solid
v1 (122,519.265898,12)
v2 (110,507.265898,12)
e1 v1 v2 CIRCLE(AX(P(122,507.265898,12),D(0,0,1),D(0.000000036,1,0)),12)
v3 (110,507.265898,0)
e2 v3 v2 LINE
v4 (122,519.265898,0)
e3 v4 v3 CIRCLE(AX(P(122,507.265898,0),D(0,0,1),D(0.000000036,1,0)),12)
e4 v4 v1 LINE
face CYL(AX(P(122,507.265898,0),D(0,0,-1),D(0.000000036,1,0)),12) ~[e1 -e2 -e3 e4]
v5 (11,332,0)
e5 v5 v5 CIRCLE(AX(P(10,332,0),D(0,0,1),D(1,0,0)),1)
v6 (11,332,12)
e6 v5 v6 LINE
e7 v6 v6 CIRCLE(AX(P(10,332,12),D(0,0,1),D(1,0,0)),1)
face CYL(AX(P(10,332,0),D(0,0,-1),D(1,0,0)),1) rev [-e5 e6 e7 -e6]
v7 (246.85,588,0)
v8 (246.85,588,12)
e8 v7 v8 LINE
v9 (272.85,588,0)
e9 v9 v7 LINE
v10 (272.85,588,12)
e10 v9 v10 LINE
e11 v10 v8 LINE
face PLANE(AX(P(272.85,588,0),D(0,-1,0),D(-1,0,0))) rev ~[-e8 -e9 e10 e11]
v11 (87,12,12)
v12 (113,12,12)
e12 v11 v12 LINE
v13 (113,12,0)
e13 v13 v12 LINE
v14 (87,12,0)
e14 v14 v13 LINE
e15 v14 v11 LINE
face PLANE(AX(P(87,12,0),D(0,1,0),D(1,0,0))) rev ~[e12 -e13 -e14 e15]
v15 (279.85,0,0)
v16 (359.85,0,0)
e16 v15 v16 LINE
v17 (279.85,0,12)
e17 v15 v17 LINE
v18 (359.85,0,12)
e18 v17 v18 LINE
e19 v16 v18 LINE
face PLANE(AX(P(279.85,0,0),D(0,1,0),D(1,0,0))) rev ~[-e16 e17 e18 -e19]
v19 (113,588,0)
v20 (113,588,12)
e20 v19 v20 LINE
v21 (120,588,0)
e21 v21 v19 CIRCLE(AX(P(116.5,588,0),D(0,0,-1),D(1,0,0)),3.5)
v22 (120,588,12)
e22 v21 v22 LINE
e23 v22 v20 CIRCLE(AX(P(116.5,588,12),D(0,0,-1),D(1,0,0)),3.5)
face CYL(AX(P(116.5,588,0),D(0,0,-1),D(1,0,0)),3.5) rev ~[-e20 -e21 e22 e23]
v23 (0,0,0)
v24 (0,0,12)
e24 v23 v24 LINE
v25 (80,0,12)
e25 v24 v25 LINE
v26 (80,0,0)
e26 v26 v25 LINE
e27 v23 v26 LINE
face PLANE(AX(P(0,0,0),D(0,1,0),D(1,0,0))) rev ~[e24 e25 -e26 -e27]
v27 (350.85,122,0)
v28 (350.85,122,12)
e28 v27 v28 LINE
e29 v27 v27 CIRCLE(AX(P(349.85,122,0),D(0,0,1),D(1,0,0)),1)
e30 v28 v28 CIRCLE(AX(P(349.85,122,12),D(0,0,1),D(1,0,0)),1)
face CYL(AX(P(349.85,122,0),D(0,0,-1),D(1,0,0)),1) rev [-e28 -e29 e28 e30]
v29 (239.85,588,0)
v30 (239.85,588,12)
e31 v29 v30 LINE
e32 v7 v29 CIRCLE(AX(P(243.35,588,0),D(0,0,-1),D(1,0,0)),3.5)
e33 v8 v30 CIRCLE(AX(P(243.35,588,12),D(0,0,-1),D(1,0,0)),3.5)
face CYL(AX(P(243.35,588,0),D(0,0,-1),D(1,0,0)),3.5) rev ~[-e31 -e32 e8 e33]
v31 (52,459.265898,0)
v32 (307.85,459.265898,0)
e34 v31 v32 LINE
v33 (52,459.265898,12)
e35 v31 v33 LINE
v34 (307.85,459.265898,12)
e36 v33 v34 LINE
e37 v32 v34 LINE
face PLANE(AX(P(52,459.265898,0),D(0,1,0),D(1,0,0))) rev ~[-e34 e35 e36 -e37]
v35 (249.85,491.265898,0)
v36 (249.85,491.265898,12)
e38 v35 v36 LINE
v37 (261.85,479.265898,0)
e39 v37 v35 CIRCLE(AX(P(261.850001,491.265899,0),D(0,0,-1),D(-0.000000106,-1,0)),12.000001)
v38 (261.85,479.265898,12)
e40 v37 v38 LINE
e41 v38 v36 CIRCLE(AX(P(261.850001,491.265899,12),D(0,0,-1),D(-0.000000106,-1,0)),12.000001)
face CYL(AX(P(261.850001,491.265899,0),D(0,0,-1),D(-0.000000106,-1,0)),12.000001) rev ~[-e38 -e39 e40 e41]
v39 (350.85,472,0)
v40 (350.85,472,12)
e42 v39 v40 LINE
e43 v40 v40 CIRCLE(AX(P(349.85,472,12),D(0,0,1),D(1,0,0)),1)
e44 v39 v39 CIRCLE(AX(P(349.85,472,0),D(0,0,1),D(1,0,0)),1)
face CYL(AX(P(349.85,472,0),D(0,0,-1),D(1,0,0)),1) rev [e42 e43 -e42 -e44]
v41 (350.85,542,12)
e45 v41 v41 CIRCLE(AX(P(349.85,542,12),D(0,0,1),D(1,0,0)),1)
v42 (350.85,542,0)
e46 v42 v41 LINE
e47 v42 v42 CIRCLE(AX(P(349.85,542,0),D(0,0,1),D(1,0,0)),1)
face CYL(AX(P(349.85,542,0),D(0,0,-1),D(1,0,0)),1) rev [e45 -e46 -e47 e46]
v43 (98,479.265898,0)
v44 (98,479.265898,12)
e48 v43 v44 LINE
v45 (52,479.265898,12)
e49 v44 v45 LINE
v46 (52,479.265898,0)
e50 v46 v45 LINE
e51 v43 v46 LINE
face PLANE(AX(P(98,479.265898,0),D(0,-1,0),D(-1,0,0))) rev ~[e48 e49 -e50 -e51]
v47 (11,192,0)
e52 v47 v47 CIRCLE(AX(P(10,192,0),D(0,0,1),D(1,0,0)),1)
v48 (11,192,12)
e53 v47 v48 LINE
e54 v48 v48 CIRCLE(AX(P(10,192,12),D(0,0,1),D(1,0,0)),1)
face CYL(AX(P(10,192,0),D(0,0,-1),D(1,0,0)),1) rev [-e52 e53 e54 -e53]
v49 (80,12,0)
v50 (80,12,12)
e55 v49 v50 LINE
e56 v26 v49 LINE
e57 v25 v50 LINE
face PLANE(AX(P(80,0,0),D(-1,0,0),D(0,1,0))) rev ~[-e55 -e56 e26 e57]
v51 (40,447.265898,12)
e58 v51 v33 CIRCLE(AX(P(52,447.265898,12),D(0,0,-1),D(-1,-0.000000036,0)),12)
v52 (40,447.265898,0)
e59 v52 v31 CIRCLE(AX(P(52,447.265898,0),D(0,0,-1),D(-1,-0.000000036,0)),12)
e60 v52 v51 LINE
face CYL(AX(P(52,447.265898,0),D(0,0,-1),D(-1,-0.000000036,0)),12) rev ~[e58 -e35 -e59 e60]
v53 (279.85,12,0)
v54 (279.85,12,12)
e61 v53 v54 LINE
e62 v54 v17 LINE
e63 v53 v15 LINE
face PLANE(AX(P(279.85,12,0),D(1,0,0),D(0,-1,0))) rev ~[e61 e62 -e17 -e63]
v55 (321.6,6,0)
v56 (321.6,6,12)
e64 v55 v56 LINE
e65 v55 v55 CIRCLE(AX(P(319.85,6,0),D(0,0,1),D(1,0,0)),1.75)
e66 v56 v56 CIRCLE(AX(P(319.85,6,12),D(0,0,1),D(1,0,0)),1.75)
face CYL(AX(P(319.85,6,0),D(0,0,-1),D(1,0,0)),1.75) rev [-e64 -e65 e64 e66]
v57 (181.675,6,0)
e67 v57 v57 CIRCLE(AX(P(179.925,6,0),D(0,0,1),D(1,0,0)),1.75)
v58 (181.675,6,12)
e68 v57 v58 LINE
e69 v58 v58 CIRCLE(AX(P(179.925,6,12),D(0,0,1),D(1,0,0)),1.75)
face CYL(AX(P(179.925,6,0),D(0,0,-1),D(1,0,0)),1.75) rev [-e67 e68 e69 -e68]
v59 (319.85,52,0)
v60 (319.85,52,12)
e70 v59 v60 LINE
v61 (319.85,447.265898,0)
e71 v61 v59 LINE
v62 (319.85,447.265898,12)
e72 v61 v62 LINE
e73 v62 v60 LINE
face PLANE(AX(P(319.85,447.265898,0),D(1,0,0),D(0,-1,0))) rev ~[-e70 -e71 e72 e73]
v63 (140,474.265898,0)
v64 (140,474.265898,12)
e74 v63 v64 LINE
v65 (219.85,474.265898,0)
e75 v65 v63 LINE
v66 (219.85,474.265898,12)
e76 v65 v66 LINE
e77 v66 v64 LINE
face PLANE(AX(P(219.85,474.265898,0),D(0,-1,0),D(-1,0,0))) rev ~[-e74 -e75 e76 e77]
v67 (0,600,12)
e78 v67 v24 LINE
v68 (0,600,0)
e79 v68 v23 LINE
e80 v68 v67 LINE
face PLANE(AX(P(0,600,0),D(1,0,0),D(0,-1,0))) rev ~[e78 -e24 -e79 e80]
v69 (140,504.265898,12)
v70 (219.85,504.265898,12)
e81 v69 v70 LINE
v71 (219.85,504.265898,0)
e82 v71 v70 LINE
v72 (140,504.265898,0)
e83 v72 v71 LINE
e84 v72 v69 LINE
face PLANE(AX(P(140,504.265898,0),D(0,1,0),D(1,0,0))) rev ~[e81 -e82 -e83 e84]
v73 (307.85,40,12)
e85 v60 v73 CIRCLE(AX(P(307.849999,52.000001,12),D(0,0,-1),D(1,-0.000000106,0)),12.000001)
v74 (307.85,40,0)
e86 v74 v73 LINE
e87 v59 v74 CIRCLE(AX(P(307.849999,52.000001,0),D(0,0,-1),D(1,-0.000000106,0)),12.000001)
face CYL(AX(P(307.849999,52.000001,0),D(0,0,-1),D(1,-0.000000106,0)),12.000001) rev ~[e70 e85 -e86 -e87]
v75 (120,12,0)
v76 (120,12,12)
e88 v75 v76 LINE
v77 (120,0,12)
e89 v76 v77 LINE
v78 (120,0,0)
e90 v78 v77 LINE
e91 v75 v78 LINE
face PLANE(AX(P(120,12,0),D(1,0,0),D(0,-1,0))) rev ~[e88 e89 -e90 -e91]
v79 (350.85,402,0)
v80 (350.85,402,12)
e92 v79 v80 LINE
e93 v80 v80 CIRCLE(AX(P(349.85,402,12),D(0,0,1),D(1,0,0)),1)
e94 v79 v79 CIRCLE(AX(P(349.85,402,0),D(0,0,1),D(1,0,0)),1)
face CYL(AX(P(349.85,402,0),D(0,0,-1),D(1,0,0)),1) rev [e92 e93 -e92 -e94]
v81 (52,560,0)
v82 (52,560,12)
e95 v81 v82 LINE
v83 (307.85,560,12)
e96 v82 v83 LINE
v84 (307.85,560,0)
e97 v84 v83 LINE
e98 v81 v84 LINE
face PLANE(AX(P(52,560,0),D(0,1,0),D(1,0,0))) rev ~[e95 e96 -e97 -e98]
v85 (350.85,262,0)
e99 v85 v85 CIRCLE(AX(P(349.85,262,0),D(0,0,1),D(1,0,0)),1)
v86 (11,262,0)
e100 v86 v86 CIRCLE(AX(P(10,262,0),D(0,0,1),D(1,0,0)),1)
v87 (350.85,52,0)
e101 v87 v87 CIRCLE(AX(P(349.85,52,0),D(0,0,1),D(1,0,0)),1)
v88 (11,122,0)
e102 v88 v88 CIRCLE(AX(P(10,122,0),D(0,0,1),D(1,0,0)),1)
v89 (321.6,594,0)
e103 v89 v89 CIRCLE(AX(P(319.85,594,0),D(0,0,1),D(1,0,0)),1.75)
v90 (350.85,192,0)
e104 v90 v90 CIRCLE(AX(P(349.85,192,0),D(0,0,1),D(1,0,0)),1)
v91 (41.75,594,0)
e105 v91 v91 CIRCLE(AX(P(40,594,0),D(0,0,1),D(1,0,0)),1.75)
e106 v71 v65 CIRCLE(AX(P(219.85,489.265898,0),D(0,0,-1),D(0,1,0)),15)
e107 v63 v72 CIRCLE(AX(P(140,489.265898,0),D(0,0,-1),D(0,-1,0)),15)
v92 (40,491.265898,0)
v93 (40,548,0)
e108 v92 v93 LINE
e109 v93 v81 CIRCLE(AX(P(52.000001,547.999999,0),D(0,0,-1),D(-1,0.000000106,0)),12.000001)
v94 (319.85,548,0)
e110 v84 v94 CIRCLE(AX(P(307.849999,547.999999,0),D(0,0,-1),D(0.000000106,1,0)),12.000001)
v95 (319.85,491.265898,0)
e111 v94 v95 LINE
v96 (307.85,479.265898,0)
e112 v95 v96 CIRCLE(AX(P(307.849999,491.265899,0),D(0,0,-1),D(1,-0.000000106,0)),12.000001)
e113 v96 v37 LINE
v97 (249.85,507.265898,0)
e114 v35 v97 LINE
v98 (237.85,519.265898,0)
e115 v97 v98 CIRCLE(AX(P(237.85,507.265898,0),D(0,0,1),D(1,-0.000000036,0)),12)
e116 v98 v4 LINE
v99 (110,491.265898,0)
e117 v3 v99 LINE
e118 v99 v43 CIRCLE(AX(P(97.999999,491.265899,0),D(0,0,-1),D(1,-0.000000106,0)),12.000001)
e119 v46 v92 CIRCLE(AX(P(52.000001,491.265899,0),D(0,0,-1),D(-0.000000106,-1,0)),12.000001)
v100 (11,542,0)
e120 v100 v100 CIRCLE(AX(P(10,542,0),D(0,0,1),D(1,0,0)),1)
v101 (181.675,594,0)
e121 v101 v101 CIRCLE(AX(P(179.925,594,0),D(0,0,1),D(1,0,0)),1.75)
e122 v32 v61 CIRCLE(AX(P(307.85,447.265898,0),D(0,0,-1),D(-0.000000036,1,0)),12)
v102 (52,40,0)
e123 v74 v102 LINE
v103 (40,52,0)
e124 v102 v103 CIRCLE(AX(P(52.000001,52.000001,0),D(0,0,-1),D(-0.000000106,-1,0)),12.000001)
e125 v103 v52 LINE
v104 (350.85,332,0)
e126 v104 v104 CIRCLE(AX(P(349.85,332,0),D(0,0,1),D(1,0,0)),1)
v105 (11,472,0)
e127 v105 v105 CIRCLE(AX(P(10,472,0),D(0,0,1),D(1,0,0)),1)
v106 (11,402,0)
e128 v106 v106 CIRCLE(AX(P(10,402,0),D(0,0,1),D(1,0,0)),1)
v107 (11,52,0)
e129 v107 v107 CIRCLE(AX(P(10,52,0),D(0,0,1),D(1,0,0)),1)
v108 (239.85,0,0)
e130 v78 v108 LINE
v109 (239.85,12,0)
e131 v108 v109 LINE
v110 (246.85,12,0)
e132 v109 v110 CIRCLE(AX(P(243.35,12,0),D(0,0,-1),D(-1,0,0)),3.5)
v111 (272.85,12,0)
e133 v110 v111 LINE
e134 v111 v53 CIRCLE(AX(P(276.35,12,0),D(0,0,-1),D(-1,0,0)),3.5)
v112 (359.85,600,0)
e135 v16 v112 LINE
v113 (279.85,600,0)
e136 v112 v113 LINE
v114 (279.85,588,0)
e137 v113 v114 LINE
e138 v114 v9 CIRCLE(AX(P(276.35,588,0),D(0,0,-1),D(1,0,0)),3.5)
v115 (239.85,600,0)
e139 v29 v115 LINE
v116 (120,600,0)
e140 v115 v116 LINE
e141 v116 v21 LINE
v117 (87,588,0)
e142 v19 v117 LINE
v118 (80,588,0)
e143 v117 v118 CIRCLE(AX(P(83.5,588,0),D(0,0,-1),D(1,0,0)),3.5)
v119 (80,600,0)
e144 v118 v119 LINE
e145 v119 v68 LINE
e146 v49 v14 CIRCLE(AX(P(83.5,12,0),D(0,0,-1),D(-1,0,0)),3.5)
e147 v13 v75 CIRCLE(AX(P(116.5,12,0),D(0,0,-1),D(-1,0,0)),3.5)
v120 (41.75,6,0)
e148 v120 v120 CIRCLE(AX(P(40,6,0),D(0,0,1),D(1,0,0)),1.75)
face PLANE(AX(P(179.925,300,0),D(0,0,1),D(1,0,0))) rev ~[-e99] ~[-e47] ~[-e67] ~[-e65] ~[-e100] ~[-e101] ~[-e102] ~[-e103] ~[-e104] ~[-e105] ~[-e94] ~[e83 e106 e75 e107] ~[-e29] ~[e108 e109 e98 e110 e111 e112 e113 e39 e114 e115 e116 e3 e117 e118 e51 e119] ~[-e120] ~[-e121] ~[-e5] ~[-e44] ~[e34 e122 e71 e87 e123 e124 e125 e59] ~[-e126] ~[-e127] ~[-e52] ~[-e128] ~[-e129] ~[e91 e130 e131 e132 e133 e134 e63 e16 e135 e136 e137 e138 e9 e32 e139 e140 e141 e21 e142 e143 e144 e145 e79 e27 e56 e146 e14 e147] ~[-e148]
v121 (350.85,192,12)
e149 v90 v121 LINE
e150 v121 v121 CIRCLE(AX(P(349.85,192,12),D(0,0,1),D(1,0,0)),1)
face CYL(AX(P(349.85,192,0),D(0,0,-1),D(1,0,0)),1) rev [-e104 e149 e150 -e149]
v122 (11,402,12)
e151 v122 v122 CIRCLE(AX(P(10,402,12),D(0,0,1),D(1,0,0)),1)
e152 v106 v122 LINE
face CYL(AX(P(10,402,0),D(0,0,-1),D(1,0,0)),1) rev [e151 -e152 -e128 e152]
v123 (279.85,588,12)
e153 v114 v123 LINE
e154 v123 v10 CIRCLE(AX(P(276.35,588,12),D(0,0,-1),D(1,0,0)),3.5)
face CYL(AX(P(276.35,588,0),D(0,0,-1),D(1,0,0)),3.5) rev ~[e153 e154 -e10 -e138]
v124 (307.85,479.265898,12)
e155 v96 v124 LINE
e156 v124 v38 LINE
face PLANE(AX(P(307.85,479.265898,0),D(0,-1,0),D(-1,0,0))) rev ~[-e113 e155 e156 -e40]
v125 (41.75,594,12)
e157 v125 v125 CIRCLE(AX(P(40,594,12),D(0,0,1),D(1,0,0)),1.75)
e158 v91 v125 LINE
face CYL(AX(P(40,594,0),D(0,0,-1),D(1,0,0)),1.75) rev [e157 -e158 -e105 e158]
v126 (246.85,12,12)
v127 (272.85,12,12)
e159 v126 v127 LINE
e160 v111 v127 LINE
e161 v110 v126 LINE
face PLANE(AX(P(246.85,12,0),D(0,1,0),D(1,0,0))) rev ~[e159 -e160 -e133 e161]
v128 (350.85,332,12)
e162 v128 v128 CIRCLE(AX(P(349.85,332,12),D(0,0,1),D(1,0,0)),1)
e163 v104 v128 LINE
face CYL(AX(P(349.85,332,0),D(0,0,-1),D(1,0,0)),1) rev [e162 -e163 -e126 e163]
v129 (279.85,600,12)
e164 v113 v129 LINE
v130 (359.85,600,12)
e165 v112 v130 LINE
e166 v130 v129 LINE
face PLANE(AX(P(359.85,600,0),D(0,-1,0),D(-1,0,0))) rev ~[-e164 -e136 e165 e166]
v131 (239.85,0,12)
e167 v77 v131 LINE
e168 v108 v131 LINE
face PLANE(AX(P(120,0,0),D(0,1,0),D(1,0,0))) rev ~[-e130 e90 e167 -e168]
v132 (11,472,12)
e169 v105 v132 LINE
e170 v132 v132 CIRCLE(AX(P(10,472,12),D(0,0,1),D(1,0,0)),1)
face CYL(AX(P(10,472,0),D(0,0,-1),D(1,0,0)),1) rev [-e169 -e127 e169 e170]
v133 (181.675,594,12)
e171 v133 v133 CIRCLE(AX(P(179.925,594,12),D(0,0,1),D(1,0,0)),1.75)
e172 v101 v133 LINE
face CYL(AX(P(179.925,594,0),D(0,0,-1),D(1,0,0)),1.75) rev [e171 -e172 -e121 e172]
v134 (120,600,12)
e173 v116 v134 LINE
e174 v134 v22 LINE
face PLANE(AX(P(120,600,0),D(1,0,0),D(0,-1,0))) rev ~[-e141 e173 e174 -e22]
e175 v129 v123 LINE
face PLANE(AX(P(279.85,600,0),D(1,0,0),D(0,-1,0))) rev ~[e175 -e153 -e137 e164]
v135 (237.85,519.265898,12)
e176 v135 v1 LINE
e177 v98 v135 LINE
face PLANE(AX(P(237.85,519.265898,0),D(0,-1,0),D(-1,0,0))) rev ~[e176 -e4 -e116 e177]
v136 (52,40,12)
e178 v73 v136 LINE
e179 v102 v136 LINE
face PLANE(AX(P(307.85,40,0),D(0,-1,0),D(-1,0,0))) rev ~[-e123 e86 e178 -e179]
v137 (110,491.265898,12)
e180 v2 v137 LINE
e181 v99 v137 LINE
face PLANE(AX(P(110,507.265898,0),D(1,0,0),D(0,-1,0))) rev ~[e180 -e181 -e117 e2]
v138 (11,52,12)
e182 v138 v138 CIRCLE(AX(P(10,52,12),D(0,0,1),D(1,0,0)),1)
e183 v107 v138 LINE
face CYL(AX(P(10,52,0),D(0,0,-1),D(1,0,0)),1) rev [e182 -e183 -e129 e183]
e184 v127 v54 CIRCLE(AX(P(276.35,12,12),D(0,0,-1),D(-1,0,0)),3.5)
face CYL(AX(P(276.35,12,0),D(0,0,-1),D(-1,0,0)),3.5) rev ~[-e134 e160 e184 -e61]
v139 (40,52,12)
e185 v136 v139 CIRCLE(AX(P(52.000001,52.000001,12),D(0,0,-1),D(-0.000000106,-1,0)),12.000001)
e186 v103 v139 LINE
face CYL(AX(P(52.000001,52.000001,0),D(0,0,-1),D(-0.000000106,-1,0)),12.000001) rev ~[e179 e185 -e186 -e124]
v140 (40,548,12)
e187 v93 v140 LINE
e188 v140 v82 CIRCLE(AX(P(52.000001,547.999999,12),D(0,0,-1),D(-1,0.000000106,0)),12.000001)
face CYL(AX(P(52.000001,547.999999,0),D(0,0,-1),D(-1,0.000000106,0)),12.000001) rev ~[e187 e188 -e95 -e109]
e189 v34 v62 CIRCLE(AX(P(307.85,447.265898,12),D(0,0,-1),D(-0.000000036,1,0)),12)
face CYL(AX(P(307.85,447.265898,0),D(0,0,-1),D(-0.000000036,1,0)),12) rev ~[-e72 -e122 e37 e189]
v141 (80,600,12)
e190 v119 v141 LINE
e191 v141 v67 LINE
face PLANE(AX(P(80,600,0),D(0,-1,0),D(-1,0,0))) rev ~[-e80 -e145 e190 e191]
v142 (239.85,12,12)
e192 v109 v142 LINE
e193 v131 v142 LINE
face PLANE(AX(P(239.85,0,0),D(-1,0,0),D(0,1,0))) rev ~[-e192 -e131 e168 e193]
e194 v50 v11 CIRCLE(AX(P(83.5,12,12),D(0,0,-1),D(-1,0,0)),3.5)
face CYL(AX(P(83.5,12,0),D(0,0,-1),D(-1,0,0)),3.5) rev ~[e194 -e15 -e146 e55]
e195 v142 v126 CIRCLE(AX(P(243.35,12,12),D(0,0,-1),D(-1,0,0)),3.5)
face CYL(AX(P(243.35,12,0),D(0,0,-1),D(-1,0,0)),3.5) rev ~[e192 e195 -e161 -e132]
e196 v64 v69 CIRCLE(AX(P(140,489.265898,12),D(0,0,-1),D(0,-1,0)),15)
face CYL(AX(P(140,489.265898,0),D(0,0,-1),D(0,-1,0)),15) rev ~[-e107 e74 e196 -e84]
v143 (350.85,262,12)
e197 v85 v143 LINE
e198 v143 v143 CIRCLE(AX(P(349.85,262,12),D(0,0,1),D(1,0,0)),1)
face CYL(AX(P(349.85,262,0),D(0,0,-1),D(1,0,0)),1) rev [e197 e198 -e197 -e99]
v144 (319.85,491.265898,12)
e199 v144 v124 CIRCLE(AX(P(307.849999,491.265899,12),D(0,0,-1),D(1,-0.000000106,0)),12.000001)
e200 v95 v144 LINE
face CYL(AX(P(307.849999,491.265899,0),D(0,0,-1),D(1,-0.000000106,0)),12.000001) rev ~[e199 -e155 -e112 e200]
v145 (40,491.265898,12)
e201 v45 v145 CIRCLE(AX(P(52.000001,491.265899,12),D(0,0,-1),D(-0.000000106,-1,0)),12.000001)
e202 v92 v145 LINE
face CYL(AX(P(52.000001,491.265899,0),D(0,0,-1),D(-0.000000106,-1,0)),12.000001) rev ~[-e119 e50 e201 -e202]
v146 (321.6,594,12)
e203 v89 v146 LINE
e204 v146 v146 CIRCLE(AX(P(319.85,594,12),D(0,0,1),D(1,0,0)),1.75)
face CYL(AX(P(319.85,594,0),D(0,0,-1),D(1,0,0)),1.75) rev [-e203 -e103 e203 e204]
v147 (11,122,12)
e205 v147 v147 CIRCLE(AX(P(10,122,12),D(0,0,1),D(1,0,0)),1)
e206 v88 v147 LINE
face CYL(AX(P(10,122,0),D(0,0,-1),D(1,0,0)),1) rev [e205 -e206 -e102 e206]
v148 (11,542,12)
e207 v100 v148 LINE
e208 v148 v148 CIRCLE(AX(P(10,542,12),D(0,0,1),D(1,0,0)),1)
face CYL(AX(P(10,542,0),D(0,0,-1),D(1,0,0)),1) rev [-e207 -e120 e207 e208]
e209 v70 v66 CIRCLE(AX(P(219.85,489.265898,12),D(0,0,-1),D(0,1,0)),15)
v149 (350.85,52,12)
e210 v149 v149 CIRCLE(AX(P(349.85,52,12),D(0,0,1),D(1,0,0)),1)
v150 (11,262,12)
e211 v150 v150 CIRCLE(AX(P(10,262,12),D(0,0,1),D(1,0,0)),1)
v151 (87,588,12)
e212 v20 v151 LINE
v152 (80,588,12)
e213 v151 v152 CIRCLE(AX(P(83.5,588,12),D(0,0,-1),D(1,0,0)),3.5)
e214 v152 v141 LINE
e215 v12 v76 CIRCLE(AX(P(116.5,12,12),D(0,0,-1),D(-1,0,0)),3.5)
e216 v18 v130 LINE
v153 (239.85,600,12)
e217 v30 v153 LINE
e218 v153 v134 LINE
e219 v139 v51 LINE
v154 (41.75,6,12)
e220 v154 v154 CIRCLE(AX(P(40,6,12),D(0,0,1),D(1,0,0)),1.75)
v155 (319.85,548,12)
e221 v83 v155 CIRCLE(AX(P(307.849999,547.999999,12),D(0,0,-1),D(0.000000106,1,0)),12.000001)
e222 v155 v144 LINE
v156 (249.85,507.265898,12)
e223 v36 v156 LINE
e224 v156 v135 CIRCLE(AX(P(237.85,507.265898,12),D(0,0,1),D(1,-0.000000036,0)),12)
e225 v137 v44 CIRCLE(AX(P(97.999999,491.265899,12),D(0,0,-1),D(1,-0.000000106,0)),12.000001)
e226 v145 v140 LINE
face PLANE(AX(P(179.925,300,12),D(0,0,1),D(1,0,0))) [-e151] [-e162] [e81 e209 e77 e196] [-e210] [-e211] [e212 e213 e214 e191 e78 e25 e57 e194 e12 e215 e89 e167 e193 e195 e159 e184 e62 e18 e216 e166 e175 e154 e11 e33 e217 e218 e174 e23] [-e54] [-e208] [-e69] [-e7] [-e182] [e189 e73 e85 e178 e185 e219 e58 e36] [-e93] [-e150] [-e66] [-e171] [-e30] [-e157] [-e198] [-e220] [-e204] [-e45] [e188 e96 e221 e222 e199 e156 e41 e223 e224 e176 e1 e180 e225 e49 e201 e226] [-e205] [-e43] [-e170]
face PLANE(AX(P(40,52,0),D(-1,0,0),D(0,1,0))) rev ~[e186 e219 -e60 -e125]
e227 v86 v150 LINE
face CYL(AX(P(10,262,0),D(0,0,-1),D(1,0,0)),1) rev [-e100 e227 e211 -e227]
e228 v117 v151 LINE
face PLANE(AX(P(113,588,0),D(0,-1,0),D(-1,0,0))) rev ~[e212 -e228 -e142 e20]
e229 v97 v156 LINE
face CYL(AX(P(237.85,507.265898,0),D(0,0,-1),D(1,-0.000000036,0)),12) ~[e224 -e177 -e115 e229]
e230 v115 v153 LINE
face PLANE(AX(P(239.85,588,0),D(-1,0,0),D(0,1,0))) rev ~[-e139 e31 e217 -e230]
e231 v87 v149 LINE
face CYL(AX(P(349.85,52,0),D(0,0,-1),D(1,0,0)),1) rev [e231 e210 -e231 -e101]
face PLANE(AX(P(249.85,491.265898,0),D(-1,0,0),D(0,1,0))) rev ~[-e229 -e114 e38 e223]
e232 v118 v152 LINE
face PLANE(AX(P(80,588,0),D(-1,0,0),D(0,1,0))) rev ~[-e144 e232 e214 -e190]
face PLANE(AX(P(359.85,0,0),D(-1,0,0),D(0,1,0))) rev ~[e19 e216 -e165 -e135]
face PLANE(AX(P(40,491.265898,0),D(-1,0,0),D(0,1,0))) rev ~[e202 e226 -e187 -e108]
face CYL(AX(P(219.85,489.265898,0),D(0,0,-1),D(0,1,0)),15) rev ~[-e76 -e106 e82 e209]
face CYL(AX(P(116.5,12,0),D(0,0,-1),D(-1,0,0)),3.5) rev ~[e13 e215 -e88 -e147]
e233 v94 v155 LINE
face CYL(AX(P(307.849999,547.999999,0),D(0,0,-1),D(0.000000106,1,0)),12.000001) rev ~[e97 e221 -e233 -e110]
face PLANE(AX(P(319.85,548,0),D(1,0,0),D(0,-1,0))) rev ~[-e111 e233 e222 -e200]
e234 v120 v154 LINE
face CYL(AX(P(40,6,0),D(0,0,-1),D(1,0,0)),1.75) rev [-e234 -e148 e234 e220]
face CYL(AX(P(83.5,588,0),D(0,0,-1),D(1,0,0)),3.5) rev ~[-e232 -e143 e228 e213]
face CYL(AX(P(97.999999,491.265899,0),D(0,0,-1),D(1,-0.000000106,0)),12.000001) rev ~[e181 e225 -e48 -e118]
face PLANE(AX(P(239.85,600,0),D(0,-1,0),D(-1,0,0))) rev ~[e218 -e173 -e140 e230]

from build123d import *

# Parameters (mm, degrees)
F0_R     = 1.75
F0_R_2   = 1
F1_DEPTH = 12


with BuildPart() as f1:
    # F0 (on Top) → F1 (new body)
    with BuildSketch(Plane.XY):
        with BuildLine():
            Line((0, 600), (0, 0))
            Line((0, 0), (80, 0))
            Line((80, 0), (80, 12))
            ThreePointArc((80, 12), (83.5, 15.5), (87, 12))
            Line((87, 12), (113, 12))
            ThreePointArc((113, 12), (116.5, 15.5), (120, 12))
            Line((120, 12), (120, 0))
            Line((120, 0), (239.85, 0))
            Line((239.85, 0), (239.85, 12))
            ThreePointArc((239.85, 12), (243.35, 15.5), (246.85, 12))
            Line((246.85, 12), (272.85, 12))
            ThreePointArc((272.85, 12), (276.35, 15.5), (279.85, 12))
            Line((279.85, 12), (279.85, 0))
            Line((279.85, 0), (359.85, 0))
            Line((359.85, 0), (359.85, 600))
            Line((359.85, 600), (279.85, 600))
            Line((279.85, 600), (279.85, 588))
            ThreePointArc((279.85, 588), (276.35, 584.5), (272.85, 588))
            Line((272.85, 588), (246.85, 588))
            ThreePointArc((246.85, 588), (243.35, 584.5), (239.85, 588))
            Line((239.85, 588), (239.85, 600))
            Line((239.85, 600), (120, 600))
            Line((120, 600), (120, 588))
            ThreePointArc((120, 588), (116.5, 584.5), (113, 588))
            Line((113, 588), (87, 588))
            ThreePointArc((87, 588), (83.5, 584.5), (80, 588))
            Line((80, 588), (80, 600))
            Line((80, 600), (0, 600))
        make_face()
        with Locations((40, 6)):
            Circle(F0_R, mode=Mode.SUBTRACT)
        with Locations((10, 52)):
            Circle(F0_R_2, mode=Mode.SUBTRACT)
        with Locations((10, 122)):
            Circle(F0_R_2, mode=Mode.SUBTRACT)
        with Locations((10, 192)):
            Circle(F0_R_2, mode=Mode.SUBTRACT)
        with Locations((10, 262)):
            Circle(F0_R_2, mode=Mode.SUBTRACT)
        with Locations((179.925, 6)):
            Circle(F0_R, mode=Mode.SUBTRACT)
        with Locations((319.85, 6)):
            Circle(F0_R, mode=Mode.SUBTRACT)
        with Locations((349.85, 52)):
            Circle(F0_R_2, mode=Mode.SUBTRACT)
        with Locations((349.85, 122)):
            Circle(F0_R_2, mode=Mode.SUBTRACT)
        with BuildLine():
            ThreePointArc((40, 447.265898), (43.514719, 455.75118), (52, 459.265898))
            Line((52, 459.265898), (307.85, 459.265898))
            ThreePointArc((307.85, 459.265898), (316.335281, 455.75118), (319.85, 447.265898))
            Line((319.85, 447.265898), (319.85, 52))
            ThreePointArc((319.85, 52), (316.335281, 43.514719), (307.85, 40))
            Line((307.85, 40), (52, 40))
            ThreePointArc((52, 40), (43.514719, 43.514719), (40, 52))
            Line((40, 52), (40, 447.265898))
        make_face(mode=Mode.SUBTRACT)
        with Locations((349.85, 192)):
            Circle(F0_R_2, mode=Mode.SUBTRACT)
        with Locations((349.85, 262)):
            Circle(F0_R_2, mode=Mode.SUBTRACT)
        with Locations((10, 332)):
            Circle(F0_R_2, mode=Mode.SUBTRACT)
        with Locations((10, 402)):
            Circle(F0_R_2, mode=Mode.SUBTRACT)
        with Locations((10, 472)):
            Circle(F0_R_2, mode=Mode.SUBTRACT)
        with Locations((10, 542)):
            Circle(F0_R_2, mode=Mode.SUBTRACT)
        with Locations((40, 594)):
            Circle(F0_R, mode=Mode.SUBTRACT)
        with Locations((349.85, 332)):
            Circle(F0_R_2, mode=Mode.SUBTRACT)
        with Locations((349.85, 402)):
            Circle(F0_R_2, mode=Mode.SUBTRACT)
        with BuildLine():
            Line((219.85, 474.265898), (140, 474.265898))
            ThreePointArc((140, 474.265898), (125, 489.265898), (140, 504.265898))
            Line((140, 504.265898), (219.85, 504.265898))
            ThreePointArc((219.85, 504.265898), (234.85, 489.265898), (219.85, 474.265898))
        make_face(mode=Mode.SUBTRACT)
        with BuildLine():
            ThreePointArc((40, 548), (43.514719, 556.485281), (52, 560))
            Line((52, 560), (307.85, 560))
            ThreePointArc((307.85, 560), (316.335281, 556.485281), (319.85, 548))
            Line((319.85, 548), (319.85, 491.265898))
            ThreePointArc((319.85, 491.265898), (316.335281, 482.780617), (307.85, 479.265898))
            Line((307.85, 479.265898), (261.85, 479.265898))
            ThreePointArc((261.85, 479.265898), (253.364719, 482.780617), (249.85, 491.265898))
            Line((249.85, 491.265898), (249.85, 507.265898))
            ThreePointArc((249.85, 507.265898), (246.335281, 515.75118), (237.85, 519.265898))
            Line((237.85, 519.265898), (122, 519.265898))
            ThreePointArc((122, 519.265898), (113.514719, 515.75118), (110, 507.265898))
            Line((110, 507.265898), (110, 491.265898))
            ThreePointArc((110, 491.265898), (106.485281, 482.780617), (98, 479.265898))
            Line((98, 479.265898), (52, 479.265898))
            ThreePointArc((52, 479.265898), (43.514719, 482.780617), (40, 491.265898))
            Line((40, 491.265898), (40, 548))
        make_face(mode=Mode.SUBTRACT)
        with Locations((179.925, 594)):
            Circle(F0_R, mode=Mode.SUBTRACT)
        with Locations((349.85, 472)):
            Circle(F0_R_2, mode=Mode.SUBTRACT)
        with Locations((349.85, 542)):
            Circle(F0_R_2, mode=Mode.SUBTRACT)
        with Locations((319.85, 594)):
            Circle(F0_R, mode=Mode.SUBTRACT)
    extrude(amount=F1_DEPTH)


solid = f1.part
